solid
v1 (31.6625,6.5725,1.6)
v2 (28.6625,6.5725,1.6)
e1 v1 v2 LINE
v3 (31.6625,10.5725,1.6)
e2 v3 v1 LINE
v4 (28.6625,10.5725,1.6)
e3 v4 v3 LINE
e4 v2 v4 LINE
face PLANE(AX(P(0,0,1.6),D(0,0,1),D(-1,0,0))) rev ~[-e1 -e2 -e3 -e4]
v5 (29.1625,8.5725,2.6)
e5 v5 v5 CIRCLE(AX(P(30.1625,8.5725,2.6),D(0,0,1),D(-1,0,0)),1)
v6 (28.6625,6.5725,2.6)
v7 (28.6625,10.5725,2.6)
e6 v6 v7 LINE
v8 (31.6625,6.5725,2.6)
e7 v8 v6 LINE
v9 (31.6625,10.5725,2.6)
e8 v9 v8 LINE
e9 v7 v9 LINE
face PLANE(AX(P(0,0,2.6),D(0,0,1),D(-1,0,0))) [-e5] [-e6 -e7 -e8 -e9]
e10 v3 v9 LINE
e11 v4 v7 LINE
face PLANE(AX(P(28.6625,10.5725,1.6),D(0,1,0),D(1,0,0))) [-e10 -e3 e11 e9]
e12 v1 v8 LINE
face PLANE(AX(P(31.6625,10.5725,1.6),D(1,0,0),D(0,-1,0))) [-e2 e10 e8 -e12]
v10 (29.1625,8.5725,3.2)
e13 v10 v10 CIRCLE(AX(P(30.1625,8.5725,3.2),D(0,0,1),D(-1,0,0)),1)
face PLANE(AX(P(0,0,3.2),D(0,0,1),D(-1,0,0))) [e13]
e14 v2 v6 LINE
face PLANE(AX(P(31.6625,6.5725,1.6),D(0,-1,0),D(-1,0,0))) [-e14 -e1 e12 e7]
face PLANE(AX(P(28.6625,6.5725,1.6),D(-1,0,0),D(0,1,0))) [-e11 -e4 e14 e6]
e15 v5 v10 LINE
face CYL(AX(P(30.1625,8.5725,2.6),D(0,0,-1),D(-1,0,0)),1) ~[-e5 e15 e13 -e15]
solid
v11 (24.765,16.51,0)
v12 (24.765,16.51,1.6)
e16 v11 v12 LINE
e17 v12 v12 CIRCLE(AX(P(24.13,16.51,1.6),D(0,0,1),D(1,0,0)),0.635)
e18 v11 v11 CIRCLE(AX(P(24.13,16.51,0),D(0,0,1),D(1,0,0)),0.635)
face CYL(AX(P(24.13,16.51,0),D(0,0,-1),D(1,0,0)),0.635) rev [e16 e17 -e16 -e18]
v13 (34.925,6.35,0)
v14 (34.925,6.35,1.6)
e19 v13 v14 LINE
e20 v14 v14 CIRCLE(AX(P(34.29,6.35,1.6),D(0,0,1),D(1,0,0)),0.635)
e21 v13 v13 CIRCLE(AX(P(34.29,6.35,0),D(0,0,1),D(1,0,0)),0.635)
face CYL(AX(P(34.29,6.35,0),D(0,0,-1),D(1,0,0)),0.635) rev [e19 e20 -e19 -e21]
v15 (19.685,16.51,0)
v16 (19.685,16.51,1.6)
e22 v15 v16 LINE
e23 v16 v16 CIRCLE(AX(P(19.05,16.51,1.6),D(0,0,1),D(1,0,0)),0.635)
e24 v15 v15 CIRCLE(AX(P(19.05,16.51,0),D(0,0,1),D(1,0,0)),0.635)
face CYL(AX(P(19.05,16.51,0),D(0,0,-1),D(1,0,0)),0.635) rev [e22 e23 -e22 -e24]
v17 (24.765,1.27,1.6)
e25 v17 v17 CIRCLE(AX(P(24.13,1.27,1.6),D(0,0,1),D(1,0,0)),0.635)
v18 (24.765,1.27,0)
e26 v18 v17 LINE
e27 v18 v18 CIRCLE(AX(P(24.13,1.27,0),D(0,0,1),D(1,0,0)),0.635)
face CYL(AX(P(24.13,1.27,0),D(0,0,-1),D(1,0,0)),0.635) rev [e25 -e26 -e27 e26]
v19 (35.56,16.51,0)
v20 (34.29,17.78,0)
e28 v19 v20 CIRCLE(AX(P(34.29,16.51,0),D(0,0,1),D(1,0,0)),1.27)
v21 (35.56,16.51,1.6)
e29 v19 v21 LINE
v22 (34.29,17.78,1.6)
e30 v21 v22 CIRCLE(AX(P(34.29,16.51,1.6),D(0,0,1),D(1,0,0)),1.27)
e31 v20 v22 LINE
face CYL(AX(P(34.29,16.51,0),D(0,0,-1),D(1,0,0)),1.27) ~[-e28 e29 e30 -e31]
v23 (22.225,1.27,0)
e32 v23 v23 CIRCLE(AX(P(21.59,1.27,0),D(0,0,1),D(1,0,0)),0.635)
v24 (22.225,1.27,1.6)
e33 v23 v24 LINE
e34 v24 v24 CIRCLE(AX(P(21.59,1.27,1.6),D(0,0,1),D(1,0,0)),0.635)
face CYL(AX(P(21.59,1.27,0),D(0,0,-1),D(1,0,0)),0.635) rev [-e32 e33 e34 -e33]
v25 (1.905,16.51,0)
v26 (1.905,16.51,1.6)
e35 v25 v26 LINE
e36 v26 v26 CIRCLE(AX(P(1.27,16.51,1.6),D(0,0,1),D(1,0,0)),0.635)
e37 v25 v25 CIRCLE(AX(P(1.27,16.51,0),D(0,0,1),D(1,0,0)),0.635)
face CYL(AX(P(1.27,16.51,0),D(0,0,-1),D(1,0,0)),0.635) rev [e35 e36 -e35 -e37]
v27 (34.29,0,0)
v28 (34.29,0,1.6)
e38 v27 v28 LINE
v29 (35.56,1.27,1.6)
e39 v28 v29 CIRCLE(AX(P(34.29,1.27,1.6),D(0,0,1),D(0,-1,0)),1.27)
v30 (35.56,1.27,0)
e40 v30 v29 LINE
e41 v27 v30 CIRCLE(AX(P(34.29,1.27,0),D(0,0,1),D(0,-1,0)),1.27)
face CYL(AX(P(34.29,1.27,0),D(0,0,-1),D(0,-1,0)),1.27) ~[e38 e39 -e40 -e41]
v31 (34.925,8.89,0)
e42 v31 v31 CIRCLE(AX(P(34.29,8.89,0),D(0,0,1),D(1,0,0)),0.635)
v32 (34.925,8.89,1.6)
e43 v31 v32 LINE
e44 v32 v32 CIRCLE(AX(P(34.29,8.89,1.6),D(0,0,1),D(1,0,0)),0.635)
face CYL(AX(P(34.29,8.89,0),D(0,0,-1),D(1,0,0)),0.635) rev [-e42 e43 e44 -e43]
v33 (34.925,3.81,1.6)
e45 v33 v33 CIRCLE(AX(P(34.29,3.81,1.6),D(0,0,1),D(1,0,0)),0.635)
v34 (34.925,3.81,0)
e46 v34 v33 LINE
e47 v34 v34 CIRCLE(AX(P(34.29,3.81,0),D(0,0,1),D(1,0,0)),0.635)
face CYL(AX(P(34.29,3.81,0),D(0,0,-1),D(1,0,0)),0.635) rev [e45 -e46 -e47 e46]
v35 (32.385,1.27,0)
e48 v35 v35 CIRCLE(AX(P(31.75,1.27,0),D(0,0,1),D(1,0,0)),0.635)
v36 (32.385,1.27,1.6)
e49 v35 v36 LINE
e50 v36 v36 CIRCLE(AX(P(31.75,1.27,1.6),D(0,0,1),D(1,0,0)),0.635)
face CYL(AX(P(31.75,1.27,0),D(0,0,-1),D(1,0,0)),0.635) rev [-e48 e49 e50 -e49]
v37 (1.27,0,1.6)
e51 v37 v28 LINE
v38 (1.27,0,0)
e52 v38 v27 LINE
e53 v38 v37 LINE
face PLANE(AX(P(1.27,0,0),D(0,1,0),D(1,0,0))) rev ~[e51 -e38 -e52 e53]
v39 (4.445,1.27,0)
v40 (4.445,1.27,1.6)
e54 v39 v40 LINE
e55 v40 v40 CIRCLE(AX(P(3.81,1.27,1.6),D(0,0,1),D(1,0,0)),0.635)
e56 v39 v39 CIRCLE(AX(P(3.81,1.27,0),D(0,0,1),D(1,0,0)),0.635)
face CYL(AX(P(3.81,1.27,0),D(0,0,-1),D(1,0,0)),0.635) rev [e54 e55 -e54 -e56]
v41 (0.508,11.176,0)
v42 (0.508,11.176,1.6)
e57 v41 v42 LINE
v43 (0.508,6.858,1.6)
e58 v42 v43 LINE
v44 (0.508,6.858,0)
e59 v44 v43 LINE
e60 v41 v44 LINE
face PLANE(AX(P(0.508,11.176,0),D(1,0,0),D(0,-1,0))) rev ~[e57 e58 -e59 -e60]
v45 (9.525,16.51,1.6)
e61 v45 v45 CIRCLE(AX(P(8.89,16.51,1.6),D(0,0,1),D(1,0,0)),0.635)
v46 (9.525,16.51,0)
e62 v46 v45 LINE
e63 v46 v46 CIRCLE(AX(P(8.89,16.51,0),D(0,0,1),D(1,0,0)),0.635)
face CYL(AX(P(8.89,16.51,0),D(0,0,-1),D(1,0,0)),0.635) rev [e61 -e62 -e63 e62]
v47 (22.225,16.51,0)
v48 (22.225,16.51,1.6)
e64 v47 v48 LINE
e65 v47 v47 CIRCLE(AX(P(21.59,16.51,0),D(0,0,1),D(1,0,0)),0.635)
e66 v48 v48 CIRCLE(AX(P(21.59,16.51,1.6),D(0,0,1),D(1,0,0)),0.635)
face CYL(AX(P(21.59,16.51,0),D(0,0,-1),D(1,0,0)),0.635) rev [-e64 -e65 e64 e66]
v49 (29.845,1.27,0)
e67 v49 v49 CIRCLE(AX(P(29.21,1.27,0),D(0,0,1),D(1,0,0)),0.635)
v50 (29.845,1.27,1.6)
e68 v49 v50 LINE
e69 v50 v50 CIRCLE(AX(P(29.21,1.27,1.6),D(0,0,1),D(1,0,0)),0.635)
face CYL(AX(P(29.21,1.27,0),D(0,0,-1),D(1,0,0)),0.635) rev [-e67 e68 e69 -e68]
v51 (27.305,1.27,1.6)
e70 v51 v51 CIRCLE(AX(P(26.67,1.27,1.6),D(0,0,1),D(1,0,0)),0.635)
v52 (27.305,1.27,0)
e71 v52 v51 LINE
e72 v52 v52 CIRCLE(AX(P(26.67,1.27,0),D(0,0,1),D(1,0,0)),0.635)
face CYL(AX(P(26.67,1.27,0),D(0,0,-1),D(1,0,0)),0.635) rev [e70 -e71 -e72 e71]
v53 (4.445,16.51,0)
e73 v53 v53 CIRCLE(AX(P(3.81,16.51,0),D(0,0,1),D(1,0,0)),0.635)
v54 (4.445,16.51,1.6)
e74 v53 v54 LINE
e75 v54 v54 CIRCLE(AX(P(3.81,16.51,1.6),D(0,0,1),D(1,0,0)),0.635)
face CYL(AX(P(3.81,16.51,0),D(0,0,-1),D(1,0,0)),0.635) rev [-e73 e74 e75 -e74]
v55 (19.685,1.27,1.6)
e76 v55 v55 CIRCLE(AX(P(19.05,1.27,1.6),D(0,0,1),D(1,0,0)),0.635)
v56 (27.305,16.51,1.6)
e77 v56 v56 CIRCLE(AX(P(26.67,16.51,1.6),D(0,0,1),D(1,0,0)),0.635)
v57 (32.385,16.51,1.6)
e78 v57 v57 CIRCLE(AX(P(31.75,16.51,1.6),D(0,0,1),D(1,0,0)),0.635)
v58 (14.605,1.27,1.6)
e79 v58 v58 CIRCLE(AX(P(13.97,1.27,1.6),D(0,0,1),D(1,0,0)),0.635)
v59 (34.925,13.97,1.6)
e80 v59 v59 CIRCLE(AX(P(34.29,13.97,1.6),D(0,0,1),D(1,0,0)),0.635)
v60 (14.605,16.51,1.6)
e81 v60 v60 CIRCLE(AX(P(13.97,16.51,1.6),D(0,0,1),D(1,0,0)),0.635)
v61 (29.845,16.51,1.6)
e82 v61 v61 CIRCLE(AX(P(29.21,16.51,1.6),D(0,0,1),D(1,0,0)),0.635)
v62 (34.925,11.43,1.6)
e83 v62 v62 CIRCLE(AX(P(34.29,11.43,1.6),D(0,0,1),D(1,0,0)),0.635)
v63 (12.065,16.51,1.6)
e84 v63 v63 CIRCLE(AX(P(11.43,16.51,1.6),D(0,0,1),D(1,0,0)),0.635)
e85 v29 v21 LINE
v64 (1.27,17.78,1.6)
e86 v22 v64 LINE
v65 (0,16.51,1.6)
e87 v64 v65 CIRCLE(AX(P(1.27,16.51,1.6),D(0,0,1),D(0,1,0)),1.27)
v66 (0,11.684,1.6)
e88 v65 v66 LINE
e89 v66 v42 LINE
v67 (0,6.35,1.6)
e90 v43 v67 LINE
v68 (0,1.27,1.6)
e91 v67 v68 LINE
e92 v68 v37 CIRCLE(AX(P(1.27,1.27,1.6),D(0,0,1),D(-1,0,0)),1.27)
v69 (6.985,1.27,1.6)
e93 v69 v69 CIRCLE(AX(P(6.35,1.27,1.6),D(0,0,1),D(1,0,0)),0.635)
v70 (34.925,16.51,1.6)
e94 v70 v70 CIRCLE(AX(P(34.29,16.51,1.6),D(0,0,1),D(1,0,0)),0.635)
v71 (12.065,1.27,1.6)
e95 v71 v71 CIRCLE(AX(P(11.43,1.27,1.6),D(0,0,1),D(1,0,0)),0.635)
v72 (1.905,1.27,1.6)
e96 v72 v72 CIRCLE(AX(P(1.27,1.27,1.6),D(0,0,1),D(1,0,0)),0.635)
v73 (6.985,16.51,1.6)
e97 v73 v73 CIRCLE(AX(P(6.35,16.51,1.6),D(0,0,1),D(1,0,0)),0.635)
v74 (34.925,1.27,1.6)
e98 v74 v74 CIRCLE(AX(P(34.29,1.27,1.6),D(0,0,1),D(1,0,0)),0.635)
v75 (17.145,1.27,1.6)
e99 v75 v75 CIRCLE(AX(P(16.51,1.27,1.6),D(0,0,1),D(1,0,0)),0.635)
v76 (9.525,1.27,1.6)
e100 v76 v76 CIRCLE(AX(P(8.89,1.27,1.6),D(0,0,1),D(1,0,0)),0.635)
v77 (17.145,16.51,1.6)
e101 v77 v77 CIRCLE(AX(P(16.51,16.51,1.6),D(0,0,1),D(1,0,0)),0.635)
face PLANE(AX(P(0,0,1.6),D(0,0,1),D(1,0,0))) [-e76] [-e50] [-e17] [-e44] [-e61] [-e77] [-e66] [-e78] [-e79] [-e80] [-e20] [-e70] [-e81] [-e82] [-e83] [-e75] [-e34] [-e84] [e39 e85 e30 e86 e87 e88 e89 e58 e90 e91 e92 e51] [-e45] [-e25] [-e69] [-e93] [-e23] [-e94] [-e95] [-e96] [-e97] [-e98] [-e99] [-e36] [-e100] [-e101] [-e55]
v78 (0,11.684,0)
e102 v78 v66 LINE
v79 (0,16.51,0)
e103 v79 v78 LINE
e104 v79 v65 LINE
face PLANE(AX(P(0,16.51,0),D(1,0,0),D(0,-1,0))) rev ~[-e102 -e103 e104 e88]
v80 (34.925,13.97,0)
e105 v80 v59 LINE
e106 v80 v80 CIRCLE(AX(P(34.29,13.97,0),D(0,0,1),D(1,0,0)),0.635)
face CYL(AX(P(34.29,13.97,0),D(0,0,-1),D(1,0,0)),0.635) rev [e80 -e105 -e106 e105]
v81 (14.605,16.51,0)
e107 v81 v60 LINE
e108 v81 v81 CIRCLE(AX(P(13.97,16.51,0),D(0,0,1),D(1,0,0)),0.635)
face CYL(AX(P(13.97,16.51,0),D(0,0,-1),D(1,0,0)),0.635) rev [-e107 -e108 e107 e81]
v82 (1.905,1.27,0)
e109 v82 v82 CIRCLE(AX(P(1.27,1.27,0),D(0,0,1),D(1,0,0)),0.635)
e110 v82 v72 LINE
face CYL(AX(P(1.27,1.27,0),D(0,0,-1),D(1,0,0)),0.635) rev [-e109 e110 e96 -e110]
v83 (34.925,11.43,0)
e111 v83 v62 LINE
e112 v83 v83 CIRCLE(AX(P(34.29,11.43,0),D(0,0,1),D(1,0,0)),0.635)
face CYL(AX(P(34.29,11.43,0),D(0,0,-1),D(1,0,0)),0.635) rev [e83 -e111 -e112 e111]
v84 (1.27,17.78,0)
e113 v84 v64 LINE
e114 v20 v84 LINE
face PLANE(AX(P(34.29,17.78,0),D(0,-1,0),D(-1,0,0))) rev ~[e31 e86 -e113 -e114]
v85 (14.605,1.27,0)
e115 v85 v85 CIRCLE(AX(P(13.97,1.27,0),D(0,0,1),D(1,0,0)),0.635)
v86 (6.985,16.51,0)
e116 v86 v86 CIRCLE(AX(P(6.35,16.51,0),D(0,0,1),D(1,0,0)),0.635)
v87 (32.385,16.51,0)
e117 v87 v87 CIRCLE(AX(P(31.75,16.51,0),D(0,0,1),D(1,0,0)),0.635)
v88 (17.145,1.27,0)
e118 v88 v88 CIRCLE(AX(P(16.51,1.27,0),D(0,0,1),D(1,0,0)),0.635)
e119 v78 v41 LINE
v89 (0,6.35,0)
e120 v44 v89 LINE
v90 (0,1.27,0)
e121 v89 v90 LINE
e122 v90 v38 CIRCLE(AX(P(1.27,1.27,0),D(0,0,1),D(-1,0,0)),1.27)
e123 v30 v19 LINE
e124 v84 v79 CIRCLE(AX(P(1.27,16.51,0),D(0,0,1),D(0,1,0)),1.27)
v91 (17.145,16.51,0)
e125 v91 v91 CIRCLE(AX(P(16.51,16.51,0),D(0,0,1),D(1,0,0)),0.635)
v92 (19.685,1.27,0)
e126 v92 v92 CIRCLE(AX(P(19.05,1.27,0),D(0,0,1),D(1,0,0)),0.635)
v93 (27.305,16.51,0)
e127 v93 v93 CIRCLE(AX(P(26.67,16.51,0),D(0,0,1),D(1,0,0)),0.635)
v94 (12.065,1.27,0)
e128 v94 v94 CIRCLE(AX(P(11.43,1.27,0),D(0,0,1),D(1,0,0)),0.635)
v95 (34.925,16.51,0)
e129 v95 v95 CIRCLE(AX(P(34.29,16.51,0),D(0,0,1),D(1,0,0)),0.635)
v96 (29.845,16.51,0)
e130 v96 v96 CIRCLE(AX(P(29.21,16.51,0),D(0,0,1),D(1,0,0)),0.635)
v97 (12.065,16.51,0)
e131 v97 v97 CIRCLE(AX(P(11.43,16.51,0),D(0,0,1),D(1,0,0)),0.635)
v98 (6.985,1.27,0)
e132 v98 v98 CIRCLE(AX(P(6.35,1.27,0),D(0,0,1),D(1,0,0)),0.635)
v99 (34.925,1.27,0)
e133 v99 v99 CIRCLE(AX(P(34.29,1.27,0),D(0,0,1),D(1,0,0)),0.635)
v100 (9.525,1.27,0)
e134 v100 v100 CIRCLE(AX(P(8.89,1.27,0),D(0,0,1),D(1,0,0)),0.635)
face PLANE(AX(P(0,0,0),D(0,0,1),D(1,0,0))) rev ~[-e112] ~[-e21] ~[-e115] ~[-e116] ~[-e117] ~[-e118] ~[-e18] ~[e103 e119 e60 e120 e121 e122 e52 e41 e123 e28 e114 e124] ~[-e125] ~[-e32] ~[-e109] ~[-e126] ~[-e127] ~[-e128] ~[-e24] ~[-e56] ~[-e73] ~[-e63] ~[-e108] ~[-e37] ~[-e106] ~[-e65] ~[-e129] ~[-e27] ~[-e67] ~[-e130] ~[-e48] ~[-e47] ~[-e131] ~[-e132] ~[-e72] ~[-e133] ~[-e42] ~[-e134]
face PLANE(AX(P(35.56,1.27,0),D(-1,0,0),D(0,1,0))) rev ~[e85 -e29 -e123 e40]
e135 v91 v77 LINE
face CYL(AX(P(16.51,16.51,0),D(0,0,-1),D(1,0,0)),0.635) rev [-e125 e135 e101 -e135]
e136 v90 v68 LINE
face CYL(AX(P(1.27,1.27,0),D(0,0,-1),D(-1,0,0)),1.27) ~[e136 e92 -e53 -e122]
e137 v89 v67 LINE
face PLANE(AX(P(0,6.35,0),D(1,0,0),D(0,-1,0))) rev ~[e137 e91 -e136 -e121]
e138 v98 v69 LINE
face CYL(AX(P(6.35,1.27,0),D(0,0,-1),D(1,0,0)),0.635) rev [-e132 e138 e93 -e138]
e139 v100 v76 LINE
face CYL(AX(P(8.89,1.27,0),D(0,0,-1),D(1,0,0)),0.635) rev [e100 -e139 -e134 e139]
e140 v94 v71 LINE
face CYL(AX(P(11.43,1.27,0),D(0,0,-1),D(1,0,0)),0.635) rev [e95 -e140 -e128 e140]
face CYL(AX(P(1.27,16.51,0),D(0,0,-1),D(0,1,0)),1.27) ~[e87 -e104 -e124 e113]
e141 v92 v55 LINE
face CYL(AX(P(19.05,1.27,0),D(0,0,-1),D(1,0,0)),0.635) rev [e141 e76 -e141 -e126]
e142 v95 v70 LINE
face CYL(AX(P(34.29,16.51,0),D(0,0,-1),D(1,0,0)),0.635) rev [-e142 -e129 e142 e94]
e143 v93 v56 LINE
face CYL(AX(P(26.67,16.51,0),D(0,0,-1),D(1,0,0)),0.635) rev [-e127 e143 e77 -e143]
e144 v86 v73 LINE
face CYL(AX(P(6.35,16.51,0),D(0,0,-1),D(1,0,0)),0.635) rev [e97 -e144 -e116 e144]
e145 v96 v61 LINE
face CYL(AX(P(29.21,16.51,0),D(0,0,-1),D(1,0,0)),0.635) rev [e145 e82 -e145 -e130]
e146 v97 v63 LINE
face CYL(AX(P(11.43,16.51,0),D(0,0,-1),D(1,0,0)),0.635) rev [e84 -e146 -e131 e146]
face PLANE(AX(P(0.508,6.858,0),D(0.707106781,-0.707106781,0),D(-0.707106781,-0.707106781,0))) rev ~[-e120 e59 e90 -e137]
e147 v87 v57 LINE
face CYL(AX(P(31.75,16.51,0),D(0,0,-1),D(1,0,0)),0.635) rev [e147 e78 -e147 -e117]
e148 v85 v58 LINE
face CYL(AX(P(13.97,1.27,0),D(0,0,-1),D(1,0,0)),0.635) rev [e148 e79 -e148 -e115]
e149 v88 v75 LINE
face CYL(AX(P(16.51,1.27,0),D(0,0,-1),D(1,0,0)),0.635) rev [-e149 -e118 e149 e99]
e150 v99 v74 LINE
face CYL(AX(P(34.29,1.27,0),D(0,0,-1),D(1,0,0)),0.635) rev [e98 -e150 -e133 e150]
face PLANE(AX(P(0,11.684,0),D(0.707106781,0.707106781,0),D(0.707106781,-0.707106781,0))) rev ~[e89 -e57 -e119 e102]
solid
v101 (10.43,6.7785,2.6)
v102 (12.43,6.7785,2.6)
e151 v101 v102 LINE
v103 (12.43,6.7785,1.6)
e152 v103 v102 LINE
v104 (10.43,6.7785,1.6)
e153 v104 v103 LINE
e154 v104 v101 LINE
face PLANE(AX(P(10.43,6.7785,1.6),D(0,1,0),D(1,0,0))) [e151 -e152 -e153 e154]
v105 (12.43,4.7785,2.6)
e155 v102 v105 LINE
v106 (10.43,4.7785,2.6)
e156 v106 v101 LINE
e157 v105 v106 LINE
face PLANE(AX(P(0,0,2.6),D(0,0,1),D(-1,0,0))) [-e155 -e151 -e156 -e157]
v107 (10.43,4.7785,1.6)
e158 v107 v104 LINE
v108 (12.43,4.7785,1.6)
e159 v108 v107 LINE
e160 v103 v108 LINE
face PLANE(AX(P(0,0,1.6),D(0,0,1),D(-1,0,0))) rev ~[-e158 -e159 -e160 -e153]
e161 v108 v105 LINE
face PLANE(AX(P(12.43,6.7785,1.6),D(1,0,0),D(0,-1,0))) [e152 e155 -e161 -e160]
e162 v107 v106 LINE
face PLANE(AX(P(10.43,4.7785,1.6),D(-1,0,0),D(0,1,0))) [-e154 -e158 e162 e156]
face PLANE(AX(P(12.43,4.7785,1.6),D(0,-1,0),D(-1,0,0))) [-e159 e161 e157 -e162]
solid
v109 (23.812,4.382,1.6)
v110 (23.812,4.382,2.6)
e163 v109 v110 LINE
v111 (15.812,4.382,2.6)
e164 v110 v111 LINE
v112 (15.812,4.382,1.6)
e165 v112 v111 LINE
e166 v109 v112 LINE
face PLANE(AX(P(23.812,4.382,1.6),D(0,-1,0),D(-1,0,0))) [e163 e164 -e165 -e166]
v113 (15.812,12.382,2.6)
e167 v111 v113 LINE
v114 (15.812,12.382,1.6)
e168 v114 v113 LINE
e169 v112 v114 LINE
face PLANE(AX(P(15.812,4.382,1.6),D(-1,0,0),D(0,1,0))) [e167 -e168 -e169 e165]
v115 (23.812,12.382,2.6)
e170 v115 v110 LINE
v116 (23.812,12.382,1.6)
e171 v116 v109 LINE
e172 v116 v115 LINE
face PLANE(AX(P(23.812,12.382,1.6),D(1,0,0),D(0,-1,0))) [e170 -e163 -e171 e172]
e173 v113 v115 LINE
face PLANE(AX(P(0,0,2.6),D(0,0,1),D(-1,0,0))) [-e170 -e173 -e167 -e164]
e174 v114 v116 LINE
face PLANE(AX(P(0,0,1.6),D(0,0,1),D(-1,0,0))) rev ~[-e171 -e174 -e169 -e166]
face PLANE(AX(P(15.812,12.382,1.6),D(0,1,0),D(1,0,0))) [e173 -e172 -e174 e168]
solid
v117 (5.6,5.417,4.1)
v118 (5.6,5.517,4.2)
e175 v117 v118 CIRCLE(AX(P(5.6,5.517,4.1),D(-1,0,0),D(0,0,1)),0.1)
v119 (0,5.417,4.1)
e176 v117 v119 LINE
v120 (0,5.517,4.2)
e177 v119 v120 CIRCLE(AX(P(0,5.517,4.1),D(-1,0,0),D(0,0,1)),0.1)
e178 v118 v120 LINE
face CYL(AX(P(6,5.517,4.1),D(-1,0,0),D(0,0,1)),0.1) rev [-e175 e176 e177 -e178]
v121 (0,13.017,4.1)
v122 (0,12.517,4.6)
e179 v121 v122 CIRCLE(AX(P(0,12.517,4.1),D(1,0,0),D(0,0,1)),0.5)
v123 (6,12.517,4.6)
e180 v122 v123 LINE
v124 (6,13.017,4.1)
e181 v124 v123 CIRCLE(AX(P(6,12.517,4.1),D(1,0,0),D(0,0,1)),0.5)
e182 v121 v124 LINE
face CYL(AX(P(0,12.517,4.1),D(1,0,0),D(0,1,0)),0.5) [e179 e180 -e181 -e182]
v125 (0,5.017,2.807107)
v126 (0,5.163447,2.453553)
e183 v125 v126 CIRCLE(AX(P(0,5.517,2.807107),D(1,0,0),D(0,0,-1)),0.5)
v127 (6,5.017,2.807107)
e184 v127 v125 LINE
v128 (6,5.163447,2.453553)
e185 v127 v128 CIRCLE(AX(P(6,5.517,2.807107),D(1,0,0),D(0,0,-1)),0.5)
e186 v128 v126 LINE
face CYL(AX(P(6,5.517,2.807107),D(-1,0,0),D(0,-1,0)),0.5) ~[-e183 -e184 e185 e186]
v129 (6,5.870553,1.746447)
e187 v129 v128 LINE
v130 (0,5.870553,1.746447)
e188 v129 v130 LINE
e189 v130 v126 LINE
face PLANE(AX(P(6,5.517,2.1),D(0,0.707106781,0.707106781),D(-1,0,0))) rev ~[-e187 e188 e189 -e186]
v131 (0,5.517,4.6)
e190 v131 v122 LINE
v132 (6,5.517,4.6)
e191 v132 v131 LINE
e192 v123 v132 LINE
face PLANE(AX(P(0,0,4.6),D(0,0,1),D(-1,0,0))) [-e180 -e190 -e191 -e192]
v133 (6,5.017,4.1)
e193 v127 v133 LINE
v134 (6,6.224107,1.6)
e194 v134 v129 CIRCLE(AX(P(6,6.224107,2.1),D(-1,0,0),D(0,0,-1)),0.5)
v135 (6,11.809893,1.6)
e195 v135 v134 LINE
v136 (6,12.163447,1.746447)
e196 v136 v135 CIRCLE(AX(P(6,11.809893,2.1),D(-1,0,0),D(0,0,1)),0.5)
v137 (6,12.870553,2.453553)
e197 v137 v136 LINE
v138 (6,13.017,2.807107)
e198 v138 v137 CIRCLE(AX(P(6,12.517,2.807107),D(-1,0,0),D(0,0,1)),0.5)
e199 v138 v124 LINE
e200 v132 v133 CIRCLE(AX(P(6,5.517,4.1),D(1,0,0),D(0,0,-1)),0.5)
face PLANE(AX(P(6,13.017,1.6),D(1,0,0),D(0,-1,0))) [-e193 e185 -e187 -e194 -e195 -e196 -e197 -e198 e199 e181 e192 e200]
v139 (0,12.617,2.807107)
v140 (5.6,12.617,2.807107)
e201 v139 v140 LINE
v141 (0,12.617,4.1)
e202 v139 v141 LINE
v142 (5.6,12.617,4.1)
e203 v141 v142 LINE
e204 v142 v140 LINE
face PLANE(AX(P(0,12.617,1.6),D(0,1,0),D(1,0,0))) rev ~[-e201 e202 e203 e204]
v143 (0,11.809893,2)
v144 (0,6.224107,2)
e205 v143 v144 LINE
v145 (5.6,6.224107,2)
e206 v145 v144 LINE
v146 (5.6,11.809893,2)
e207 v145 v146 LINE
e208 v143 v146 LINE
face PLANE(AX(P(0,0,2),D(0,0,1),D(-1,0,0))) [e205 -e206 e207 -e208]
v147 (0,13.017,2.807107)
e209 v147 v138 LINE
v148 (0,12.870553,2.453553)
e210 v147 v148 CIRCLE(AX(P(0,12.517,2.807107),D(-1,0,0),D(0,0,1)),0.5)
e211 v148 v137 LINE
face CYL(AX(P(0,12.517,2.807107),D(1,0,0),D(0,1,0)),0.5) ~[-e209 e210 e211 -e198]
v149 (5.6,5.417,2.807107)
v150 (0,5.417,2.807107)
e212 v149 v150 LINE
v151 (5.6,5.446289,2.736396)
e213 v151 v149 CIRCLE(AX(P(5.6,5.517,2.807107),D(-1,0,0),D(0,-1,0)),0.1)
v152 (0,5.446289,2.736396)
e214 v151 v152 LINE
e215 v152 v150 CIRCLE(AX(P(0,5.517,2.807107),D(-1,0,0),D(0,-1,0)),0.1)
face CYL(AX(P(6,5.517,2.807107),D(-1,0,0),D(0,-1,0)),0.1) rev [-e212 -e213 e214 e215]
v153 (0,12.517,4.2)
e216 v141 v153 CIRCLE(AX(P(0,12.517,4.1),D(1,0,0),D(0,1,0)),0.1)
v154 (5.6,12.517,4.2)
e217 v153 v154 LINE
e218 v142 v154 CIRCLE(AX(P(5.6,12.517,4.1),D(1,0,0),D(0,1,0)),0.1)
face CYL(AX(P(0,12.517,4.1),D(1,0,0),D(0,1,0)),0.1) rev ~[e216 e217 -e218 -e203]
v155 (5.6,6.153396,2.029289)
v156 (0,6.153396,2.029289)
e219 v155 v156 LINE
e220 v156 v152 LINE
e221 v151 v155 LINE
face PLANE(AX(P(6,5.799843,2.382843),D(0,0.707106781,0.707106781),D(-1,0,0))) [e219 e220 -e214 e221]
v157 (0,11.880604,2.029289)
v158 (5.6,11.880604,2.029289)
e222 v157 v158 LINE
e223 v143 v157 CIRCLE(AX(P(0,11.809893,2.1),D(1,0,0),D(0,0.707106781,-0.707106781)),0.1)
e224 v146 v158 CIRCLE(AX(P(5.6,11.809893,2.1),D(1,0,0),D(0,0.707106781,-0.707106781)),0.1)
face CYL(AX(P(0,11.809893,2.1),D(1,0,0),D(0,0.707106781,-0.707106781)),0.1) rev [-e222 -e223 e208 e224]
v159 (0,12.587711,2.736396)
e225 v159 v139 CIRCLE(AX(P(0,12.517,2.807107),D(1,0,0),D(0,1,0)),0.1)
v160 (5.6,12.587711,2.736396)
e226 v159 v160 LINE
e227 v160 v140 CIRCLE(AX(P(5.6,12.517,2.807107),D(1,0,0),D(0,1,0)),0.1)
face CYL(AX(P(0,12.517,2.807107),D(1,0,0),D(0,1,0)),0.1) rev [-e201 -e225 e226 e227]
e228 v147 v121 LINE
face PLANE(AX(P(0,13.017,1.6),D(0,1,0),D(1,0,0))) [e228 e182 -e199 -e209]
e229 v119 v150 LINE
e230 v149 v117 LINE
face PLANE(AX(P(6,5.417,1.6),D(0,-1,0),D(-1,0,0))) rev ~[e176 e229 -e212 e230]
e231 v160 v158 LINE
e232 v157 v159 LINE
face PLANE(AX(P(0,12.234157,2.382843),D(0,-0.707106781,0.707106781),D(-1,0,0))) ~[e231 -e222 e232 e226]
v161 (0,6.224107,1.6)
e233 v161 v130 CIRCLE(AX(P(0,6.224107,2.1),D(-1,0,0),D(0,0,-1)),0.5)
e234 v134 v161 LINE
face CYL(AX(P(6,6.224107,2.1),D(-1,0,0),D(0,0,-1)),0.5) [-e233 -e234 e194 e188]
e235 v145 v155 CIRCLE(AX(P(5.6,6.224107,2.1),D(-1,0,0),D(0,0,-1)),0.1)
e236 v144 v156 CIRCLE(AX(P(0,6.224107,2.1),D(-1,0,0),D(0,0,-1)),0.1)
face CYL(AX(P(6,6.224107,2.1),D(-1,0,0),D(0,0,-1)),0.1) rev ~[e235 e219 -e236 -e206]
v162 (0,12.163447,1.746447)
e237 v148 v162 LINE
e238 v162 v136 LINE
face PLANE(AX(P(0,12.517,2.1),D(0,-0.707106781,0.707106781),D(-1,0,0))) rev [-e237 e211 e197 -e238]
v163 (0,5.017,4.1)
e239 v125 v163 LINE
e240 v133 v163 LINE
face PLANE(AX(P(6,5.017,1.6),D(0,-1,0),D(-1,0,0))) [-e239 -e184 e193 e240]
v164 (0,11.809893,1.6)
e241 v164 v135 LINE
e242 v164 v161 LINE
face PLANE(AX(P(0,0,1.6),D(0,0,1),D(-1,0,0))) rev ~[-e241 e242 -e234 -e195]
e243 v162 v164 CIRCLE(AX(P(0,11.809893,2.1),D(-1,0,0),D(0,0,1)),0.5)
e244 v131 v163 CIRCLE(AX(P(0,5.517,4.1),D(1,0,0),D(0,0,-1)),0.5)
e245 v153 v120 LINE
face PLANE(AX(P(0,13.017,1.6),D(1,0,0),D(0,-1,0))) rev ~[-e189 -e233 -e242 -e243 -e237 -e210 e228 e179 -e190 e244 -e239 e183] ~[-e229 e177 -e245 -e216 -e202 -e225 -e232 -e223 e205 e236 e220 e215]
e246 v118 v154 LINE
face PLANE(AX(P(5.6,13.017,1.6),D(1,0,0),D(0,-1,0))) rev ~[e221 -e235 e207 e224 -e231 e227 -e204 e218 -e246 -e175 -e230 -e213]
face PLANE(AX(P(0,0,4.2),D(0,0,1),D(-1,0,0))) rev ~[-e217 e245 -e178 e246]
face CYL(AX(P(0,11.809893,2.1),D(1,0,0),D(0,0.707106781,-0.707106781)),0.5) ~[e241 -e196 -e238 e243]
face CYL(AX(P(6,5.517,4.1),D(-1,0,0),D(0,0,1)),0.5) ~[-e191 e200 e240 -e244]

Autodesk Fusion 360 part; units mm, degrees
sketch "PCB" plane through (0, 0, 0) normal (0, 0, 1) x (1, 0, 0)
  line L0 (0.508, 6.858) -> (0, 6.35)
  line L1 (0, 16.51) -> (0, 11.684)
  line L2 (0.508, 11.176) -> (0.508, 6.858)
  arc A0 (0, 1.27) -> (1.27, 0) centre (1.27, 1.27) ccw
  line L3 (34.29, 17.78) -> (1.27, 17.78)
  arc A1 (1.27, 17.78) -> (0, 16.51) centre (1.27, 16.51) ccw
  line L4 (35.56, 1.27) -> (35.56, 16.51)
  line L5 (0, 11.684) -> (0.508, 11.176)
  arc A2 (35.56, 16.51) -> (34.29, 17.78) centre (34.29, 16.51) ccw
  line L6 (1.27, 0) -> (34.29, 0)
  arc A3 (34.29, 0) -> (35.56, 1.27) centre (34.29, 1.27) ccw
  line L7 (0, 6.35) -> (0, 1.27)
  circle A4 centre (1.27, 1.27) radius 0.635
  circle A5 centre (1.27, 16.51) radius 0.635
  circle A6 centre (34.29, 3.81) radius 0.635
  circle A7 centre (3.81, 1.27) radius 0.635
  circle A8 centre (3.81, 16.51) radius 0.635
  circle A9 centre (6.35, 1.27) radius 0.635
  circle A10 centre (6.35, 16.51) radius 0.635
  circle A11 centre (8.89, 1.27) radius 0.635
  circle A12 centre (8.89, 16.51) radius 0.635
  circle A13 centre (11.43, 1.27) radius 0.635
  circle A14 centre (11.43, 16.51) radius 0.635
  circle A15 centre (13.97, 1.27) radius 0.635
  circle A16 centre (13.97, 16.51) radius 0.635
  circle A17 centre (16.51, 1.27) radius 0.635
  circle A18 centre (16.51, 16.51) radius 0.635
  circle A19 centre (19.05, 1.27) radius 0.635
  circle A20 centre (19.05, 16.51) radius 0.635
  circle A21 centre (21.59, 1.27) radius 0.635
  circle A22 centre (21.59, 16.51) radius 0.635
  circle A23 centre (24.13, 1.27) radius 0.635
  circle A24 centre (24.13, 16.51) radius 0.635
  circle A25 centre (26.67, 1.27) radius 0.635
  circle A26 centre (26.67, 16.51) radius 0.635
  circle A27 centre (29.21, 1.27) radius 0.635
  circle A28 centre (29.21, 16.51) radius 0.635
  circle A29 centre (31.75, 1.27) radius 0.635
  circle A30 centre (31.75, 16.51) radius 0.635
  circle A31 centre (34.29, 1.27) radius 0.635
  circle A32 centre (34.29, 16.51) radius 0.635
  circle A33 centre (34.29, 6.35) radius 0.635
  circle A34 centre (34.29, 8.89) radius 0.635
  circle A35 centre (34.29, 11.43) radius 0.635
  circle A36 centre (34.29, 13.97) radius 0.635
  dimension "d1" = 1.27
  dimension "d2" = 1.27
  dimension "d3" = 1.27
  dimension "d4" = 1.27
  dimension "d6" = 1.27
  dimension "d7" = 1.27
  dimension "d9" = 1.27
  dimension "d12" = 2.54
  dimension "d13" = 0
  dimension "d16" = 0
  dimension "d17" = 2.54
extrude "Extrude1" add sketch "PCB" along normal blind 1.6 makes body 1
sketch "microUSB" plane through (0, 0, 1.6) normal (0, 0, 1) x (-1, 0, 0)
  circle A0 centre (-34.29, -1.27) radius 0.635
  circle A1 centre (-34.29, -11.43) radius 0.635
  circle A2 centre (-34.29, -3.81) radius 0.635
  circle A3 centre (-21.59, -16.51) radius 0.635
  circle A4 centre (-3.81, -16.51) radius 0.635
  circle A5 centre (-26.67, -16.51) radius 0.635
  circle A6 centre (-21.59, -1.27) radius 0.635
  circle A7 centre (-6.35, -16.51) radius 0.635
  circle A8 centre (-24.13, -16.51) radius 0.635
  circle A9 centre (-3.81, -1.27) radius 0.635
  circle A10 centre (-16.51, -1.27) radius 0.635
  circle A11 centre (-29.21, -1.27) radius 0.635
  circle A12 centre (-16.51, -16.51) radius 0.635
  circle A13 centre (-1.27, -16.51) radius 0.635
  circle A14 centre (-11.43, -1.27) radius 0.635
  circle A15 centre (-31.75, -16.51) radius 0.635
  circle A16 centre (-11.43, -16.51) radius 0.635
  circle A17 centre (-34.29, -6.35) radius 0.635
  circle A18 centre (-19.05, -1.27) radius 0.635
  circle A19 centre (-8.89, -16.51) radius 0.635
  circle A20 centre (-31.75, -1.27) radius 0.635
  circle A21 centre (-6.35, -1.27) radius 0.635
  circle A22 centre (-29.21, -16.51) radius 0.635
  circle A23 centre (-34.29, -16.51) radius 0.635
  circle A24 centre (-19.05, -16.51) radius 0.635
  circle A25 centre (-13.97, -1.27) radius 0.635
  circle A26 centre (-1.27, -1.27) radius 0.635
  circle A27 centre (-13.97, -16.51) radius 0.635
  circle A28 centre (-8.89, -1.27) radius 0.635
  circle A29 centre (-34.29, -8.89) radius 0.635
  circle A30 centre (-26.67, -1.27) radius 0.635
  circle A31 centre (-34.29, -13.97) radius 0.635
  circle A32 centre (-24.13, -1.27) radius 0.635
  line L0 (0, -6.35) -> (0, -1.27)
  arc A33 (0, -1.27) -> (-1.27, 0) centre (-1.27, -1.27) ccw
  line L1 (-1.27, 0) -> (-34.29, 0)
  arc A34 (-34.29, 0) -> (-35.56, -1.27) centre (-34.29, -1.27) ccw
  line L2 (-35.56, -1.27) -> (-35.56, -16.51)
  arc A35 (-35.56, -16.51) -> (-34.29, -17.78) centre (-34.29, -16.51) ccw
  line L3 (-34.29, -17.78) -> (-1.27, -17.78)
  arc A36 (-1.27, -17.78) -> (0, -16.51) centre (-1.27, -16.51) ccw
  line L4 (0, -16.51) -> (0, -11.684)
  line L5 (0, -11.684) -> (-0.508, -11.176)
  line L6 (-0.508, -11.176) -> (-0.508, -6.858)
  line L7 (-0.508, -6.858) -> (0, -6.35)
  line L8 (0, -13.017) -> (-6, -13.017)
  line L9 (-6, -13.017) -> (-6, -5.017)
  line L10 (-6, -5.017) -> (0, -5.017)
  line L11 (0, -5.017) -> (0, -13.017)
  line L12 (0, -9.017) -> (-6, -9.017) construction
  line L13 (0, -11.684) -> (0, -6.35)
  dimension "d20" = 8
  dimension "d21" = 6
extrude "Extrude2" add sketch "microUSB" along normal blind 3 separate body contours L0 L4 L5 L6 L7 L8 L9 L10 L11 | L5 L6 L7 L11 L13 makes body 2
chamfer "Chamfer1" distance 1 angle 45 2 edges at (3, 5.017, 1.6) (3, 13.017, 1.6) on bodies 2
fillet "Fillet1" radius 0.5 6 edges at (3, 5.017, 4.6) (3, 13.017, 4.6) (3, 13.017, 2.6) (3, 12.017, 1.6) (3, 5.017, 2.6) (3, 6.017, 1.6) on bodies 2
shell "Shell1" thickness 0.4 removed faces 1 at (0, 8.086, 3.6) on bodies 2
sketch "SAMD21" plane through (0, 0, 1.6) normal (0, 0, 1) x (-1, 0, 0)
  circle A0 centre (-34.29, -1.27) radius 0.635
  circle A1 centre (-34.29, -11.43) radius 0.635
  circle A2 centre (-34.29, -3.81) radius 0.635
  circle A3 centre (-21.59, -16.51) radius 0.635
  circle A4 centre (-3.81, -16.51) radius 0.635
  circle A5 centre (-26.67, -16.51) radius 0.635
  circle A6 centre (-21.59, -1.27) radius 0.635
  circle A7 centre (-6.35, -16.51) radius 0.635
  circle A8 centre (-24.13, -16.51) radius 0.635
  circle A9 centre (-3.81, -1.27) radius 0.635
  circle A10 centre (-16.51, -1.27) radius 0.635
  circle A11 centre (-29.21, -1.27) radius 0.635
  circle A12 centre (-16.51, -16.51) radius 0.635
  circle A13 centre (-1.27, -16.51) radius 0.635
  circle A14 centre (-11.43, -1.27) radius 0.635
  circle A15 centre (-31.75, -16.51) radius 0.635
  circle A16 centre (-11.43, -16.51) radius 0.635
  circle A17 centre (-34.29, -6.35) radius 0.635
  circle A18 centre (-19.05, -1.27) radius 0.635
  circle A19 centre (-8.89, -16.51) radius 0.635
  circle A20 centre (-31.75, -1.27) radius 0.635
  circle A21 centre (-6.35, -1.27) radius 0.635
  circle A22 centre (-29.21, -16.51) radius 0.635
  circle A23 centre (-34.29, -16.51) radius 0.635
  circle A24 centre (-19.05, -16.51) radius 0.635
  circle A25 centre (-13.97, -1.27) radius 0.635
  circle A26 centre (-1.27, -1.27) radius 0.635
  circle A27 centre (-13.97, -16.51) radius 0.635
  circle A28 centre (-8.89, -1.27) radius 0.635
  circle A29 centre (-34.29, -8.89) radius 0.635
  circle A30 centre (-26.67, -1.27) radius 0.635
  circle A31 centre (-34.29, -13.97) radius 0.635
  circle A32 centre (-24.13, -1.27) radius 0.635
  line L0 (0, -6.35) -> (0, -1.27)
  arc A33 (0, -1.27) -> (-1.27, 0) centre (-1.27, -1.27) ccw
  line L1 (-1.27, 0) -> (-34.29, 0)
  arc A34 (-34.29, 0) -> (-35.56, -1.27) centre (-34.29, -1.27) ccw
  line L2 (-35.56, -1.27) -> (-35.56, -16.51)
  arc A35 (-35.56, -16.51) -> (-34.29, -17.78) centre (-34.29, -16.51) ccw
  line L3 (-34.29, -17.78) -> (-1.27, -17.78)
  arc A36 (-1.27, -17.78) -> (0, -16.51) centre (-1.27, -16.51) ccw
  line L4 (0, -16.51) -> (0, -11.684)
  line L5 (0, -11.684) -> (-0.508, -11.176)
  line L6 (-0.508, -11.176) -> (-0.508, -6.858)
  line L7 (-0.508, -6.858) -> (0, -6.35)
  line L8 (-23.812, -4.382) -> (-15.812, -4.382)
  line L9 (-15.812, -4.382) -> (-15.812, -12.382)
  line L10 (-15.812, -12.382) -> (-23.812, -12.382)
  line L11 (-23.812, -12.382) -> (-23.812, -4.382)
  line L12 (-23.812, -4.382) -> (-15.812, -12.382) construction
  line L13 (-15.812, -4.382) -> (-23.812, -12.382) construction
  point P0 (-19.812, -8.382)
  dimension "d28" = 8
  dimension "d29" = 8
  dimension "d30" = 19.812
  dimension "d31" = 8.382
extrude "Extrude3" add sketch "SAMD21" along normal blind 1 separate body contours L8 L9 L10 L11 makes body 3
sketch "reset" plane through (0, 0, 1.6) normal (0, 0, 1) x (-1, 0, 0)
  circle A0 centre (-34.29, -1.27) radius 0.635
  circle A1 centre (-34.29, -11.43) radius 0.635
  circle A2 centre (-34.29, -3.81) radius 0.635
  circle A3 centre (-21.59, -16.51) radius 0.635
  circle A4 centre (-3.81, -16.51) radius 0.635
  circle A5 centre (-26.67, -16.51) radius 0.635
  circle A6 centre (-21.59, -1.27) radius 0.635
  circle A7 centre (-6.35, -16.51) radius 0.635
  circle A8 centre (-24.13, -16.51) radius 0.635
  circle A9 centre (-3.81, -1.27) radius 0.635
  circle A10 centre (-16.51, -1.27) radius 0.635
  circle A11 centre (-29.21, -1.27) radius 0.635
  circle A12 centre (-16.51, -16.51) radius 0.635
  circle A13 centre (-1.27, -16.51) radius 0.635
  circle A14 centre (-11.43, -1.27) radius 0.635
  circle A15 centre (-31.75, -16.51) radius 0.635
  circle A16 centre (-11.43, -16.51) radius 0.635
  circle A17 centre (-34.29, -6.35) radius 0.635
  circle A18 centre (-19.05, -1.27) radius 0.635
  circle A19 centre (-8.89, -16.51) radius 0.635
  circle A20 centre (-31.75, -1.27) radius 0.635
  circle A21 centre (-6.35, -1.27) radius 0.635
  circle A22 centre (-29.21, -16.51) radius 0.635
  circle A23 centre (-34.29, -16.51) radius 0.635
  circle A24 centre (-19.05, -16.51) radius 0.635
  circle A25 centre (-13.97, -1.27) radius 0.635
  circle A26 centre (-1.27, -1.27) radius 0.635
  circle A27 centre (-13.97, -16.51) radius 0.635
  circle A28 centre (-8.89, -1.27) radius 0.635
  circle A29 centre (-34.29, -8.89) radius 0.635
  circle A30 centre (-26.67, -1.27) radius 0.635
  circle A31 centre (-34.29, -13.97) radius 0.635
  circle A32 centre (-24.13, -1.27) radius 0.635
  line L0 (0, -6.35) -> (0, -1.27)
  arc A33 (0, -1.27) -> (-1.27, 0) centre (-1.27, -1.27) ccw
  line L1 (-1.27, 0) -> (-34.29, 0)
  arc A34 (-34.29, 0) -> (-35.56, -1.27) centre (-34.29, -1.27) ccw
  line L2 (-35.56, -1.27) -> (-35.56, -16.51)
  arc A35 (-35.56, -16.51) -> (-34.29, -17.78) centre (-34.29, -16.51) ccw
  line L3 (-34.29, -17.78) -> (-1.27, -17.78)
  arc A36 (-1.27, -17.78) -> (0, -16.51) centre (-1.27, -16.51) ccw
  line L4 (0, -16.51) -> (0, -11.684)
  line L5 (0, -11.684) -> (-0.508, -11.176)
  line L6 (-0.508, -11.176) -> (-0.508, -6.858)
  line L7 (-0.508, -6.858) -> (0, -6.35)
  line L8 (-31.6625, -6.5725) -> (-28.6625, -6.5725)
  line L9 (-28.6625, -6.5725) -> (-28.6625, -10.5725)
  line L10 (-28.6625, -10.5725) -> (-31.6625, -10.5725)
  line L11 (-31.6625, -10.5725) -> (-31.6625, -6.5725)
  line L12 (-31.6625, -6.5725) -> (-28.6625, -10.5725) construction
  line L13 (-28.6625, -6.5725) -> (-31.6625, -10.5725) construction
  circle A37 centre (-30.1625, -8.5725) radius 1
  point P0 (-30.1625, -8.5725)
  dimension "d34" = 3
  dimension "d35" = 4
  dimension "d36" = 2
  dimension "d37" = 30.1625
  dimension "d38" = 8.5725
extrude "Extrude4" add sketch "reset" along normal blind 1 separate body contours L8 L9 L10 L11 | A37 makes body 4
extrude "Extrude5" add sketch "reset" along normal blind 0.6 from surface at 1 contours A37 bodies 4
sketch "DotStar APA102" plane through (0, 0, 1.6) normal (0, 0, 1) x (-1, 0, 0)
  circle A0 centre (-34.29, -1.27) radius 0.635
  circle A1 centre (-34.29, -11.43) radius 0.635
  circle A2 centre (-34.29, -3.81) radius 0.635
  circle A3 centre (-21.59, -16.51) radius 0.635
  circle A4 centre (-3.81, -16.51) radius 0.635
  circle A5 centre (-26.67, -16.51) radius 0.635
  circle A6 centre (-21.59, -1.27) radius 0.635
  circle A7 centre (-6.35, -16.51) radius 0.635
  circle A8 centre (-24.13, -16.51) radius 0.635
  circle A9 centre (-3.81, -1.27) radius 0.635
  circle A10 centre (-16.51, -1.27) radius 0.635
  circle A11 centre (-29.21, -1.27) radius 0.635
  circle A12 centre (-16.51, -16.51) radius 0.635
  circle A13 centre (-1.27, -16.51) radius 0.635
  circle A14 centre (-11.43, -1.27) radius 0.635
  circle A15 centre (-31.75, -16.51) radius 0.635
  circle A16 centre (-11.43, -16.51) radius 0.635
  circle A17 centre (-34.29, -6.35) radius 0.635
  circle A18 centre (-19.05, -1.27) radius 0.635
  circle A19 centre (-8.89, -16.51) radius 0.635
  circle A20 centre (-31.75, -1.27) radius 0.635
  circle A21 centre (-6.35, -1.27) radius 0.635
  circle A22 centre (-29.21, -16.51) radius 0.635
  circle A23 centre (-34.29, -16.51) radius 0.635
  circle A24 centre (-19.05, -16.51) radius 0.635
  circle A25 centre (-13.97, -1.27) radius 0.635
  circle A26 centre (-1.27, -1.27) radius 0.635
  circle A27 centre (-13.97, -16.51) radius 0.635
  circle A28 centre (-8.89, -1.27) radius 0.635
  circle A29 centre (-34.29, -8.89) radius 0.635
  circle A30 centre (-26.67, -1.27) radius 0.635
  circle A31 centre (-34.29, -13.97) radius 0.635
  circle A32 centre (-24.13, -1.27) radius 0.635
  line L0 (0, -6.35) -> (0, -1.27)
  arc A33 (0, -1.27) -> (-1.27, 0) centre (-1.27, -1.27) ccw
  line L1 (-1.27, 0) -> (-34.29, 0)
  arc A34 (-34.29, 0) -> (-35.56, -1.27) centre (-34.29, -1.27) ccw
  line L2 (-35.56, -1.27) -> (-35.56, -16.51)
  arc A35 (-35.56, -16.51) -> (-34.29, -17.78) centre (-34.29, -16.51) ccw
  line L3 (-34.29, -17.78) -> (-1.27, -17.78)
  arc A36 (-1.27, -17.78) -> (0, -16.51) centre (-1.27, -16.51) ccw
  line L4 (0, -16.51) -> (0, -11.684)
  line L5 (0, -11.684) -> (-0.508, -11.176)
  line L6 (-0.508, -11.176) -> (-0.508, -6.858)
  line L7 (-0.508, -6.858) -> (0, -6.35)
  line L8 (-12.43, -4.7785) -> (-10.43, -4.7785)
  line L9 (-10.43, -4.7785) -> (-10.43, -6.7785)
  line L10 (-10.43, -6.7785) -> (-12.43, -6.7785)
  line L11 (-12.43, -6.7785) -> (-12.43, -4.7785)
  line L12 (-12.43, -4.7785) -> (-10.43, -6.7785) construction
  line L13 (-10.43, -4.7785) -> (-12.43, -6.7785) construction
  point P0 (-11.43, -5.7785)
  dimension "d44" = 2
  dimension "d45" = 2
  dimension "d46" = 11.43
  dimension "d47" = 5.7785
extrude "Extrude6" add sketch "DotStar APA102" along normal blind 1 separate body contours L8 L9 L10 L11 makes body 5
equation "d1 = pins"
equation "d4 = pins"
equation "pins = 1.27 mm"
equation "d9 = pins"
equation "d12 = pins * 2"
equation "d17 = pins * 2"
